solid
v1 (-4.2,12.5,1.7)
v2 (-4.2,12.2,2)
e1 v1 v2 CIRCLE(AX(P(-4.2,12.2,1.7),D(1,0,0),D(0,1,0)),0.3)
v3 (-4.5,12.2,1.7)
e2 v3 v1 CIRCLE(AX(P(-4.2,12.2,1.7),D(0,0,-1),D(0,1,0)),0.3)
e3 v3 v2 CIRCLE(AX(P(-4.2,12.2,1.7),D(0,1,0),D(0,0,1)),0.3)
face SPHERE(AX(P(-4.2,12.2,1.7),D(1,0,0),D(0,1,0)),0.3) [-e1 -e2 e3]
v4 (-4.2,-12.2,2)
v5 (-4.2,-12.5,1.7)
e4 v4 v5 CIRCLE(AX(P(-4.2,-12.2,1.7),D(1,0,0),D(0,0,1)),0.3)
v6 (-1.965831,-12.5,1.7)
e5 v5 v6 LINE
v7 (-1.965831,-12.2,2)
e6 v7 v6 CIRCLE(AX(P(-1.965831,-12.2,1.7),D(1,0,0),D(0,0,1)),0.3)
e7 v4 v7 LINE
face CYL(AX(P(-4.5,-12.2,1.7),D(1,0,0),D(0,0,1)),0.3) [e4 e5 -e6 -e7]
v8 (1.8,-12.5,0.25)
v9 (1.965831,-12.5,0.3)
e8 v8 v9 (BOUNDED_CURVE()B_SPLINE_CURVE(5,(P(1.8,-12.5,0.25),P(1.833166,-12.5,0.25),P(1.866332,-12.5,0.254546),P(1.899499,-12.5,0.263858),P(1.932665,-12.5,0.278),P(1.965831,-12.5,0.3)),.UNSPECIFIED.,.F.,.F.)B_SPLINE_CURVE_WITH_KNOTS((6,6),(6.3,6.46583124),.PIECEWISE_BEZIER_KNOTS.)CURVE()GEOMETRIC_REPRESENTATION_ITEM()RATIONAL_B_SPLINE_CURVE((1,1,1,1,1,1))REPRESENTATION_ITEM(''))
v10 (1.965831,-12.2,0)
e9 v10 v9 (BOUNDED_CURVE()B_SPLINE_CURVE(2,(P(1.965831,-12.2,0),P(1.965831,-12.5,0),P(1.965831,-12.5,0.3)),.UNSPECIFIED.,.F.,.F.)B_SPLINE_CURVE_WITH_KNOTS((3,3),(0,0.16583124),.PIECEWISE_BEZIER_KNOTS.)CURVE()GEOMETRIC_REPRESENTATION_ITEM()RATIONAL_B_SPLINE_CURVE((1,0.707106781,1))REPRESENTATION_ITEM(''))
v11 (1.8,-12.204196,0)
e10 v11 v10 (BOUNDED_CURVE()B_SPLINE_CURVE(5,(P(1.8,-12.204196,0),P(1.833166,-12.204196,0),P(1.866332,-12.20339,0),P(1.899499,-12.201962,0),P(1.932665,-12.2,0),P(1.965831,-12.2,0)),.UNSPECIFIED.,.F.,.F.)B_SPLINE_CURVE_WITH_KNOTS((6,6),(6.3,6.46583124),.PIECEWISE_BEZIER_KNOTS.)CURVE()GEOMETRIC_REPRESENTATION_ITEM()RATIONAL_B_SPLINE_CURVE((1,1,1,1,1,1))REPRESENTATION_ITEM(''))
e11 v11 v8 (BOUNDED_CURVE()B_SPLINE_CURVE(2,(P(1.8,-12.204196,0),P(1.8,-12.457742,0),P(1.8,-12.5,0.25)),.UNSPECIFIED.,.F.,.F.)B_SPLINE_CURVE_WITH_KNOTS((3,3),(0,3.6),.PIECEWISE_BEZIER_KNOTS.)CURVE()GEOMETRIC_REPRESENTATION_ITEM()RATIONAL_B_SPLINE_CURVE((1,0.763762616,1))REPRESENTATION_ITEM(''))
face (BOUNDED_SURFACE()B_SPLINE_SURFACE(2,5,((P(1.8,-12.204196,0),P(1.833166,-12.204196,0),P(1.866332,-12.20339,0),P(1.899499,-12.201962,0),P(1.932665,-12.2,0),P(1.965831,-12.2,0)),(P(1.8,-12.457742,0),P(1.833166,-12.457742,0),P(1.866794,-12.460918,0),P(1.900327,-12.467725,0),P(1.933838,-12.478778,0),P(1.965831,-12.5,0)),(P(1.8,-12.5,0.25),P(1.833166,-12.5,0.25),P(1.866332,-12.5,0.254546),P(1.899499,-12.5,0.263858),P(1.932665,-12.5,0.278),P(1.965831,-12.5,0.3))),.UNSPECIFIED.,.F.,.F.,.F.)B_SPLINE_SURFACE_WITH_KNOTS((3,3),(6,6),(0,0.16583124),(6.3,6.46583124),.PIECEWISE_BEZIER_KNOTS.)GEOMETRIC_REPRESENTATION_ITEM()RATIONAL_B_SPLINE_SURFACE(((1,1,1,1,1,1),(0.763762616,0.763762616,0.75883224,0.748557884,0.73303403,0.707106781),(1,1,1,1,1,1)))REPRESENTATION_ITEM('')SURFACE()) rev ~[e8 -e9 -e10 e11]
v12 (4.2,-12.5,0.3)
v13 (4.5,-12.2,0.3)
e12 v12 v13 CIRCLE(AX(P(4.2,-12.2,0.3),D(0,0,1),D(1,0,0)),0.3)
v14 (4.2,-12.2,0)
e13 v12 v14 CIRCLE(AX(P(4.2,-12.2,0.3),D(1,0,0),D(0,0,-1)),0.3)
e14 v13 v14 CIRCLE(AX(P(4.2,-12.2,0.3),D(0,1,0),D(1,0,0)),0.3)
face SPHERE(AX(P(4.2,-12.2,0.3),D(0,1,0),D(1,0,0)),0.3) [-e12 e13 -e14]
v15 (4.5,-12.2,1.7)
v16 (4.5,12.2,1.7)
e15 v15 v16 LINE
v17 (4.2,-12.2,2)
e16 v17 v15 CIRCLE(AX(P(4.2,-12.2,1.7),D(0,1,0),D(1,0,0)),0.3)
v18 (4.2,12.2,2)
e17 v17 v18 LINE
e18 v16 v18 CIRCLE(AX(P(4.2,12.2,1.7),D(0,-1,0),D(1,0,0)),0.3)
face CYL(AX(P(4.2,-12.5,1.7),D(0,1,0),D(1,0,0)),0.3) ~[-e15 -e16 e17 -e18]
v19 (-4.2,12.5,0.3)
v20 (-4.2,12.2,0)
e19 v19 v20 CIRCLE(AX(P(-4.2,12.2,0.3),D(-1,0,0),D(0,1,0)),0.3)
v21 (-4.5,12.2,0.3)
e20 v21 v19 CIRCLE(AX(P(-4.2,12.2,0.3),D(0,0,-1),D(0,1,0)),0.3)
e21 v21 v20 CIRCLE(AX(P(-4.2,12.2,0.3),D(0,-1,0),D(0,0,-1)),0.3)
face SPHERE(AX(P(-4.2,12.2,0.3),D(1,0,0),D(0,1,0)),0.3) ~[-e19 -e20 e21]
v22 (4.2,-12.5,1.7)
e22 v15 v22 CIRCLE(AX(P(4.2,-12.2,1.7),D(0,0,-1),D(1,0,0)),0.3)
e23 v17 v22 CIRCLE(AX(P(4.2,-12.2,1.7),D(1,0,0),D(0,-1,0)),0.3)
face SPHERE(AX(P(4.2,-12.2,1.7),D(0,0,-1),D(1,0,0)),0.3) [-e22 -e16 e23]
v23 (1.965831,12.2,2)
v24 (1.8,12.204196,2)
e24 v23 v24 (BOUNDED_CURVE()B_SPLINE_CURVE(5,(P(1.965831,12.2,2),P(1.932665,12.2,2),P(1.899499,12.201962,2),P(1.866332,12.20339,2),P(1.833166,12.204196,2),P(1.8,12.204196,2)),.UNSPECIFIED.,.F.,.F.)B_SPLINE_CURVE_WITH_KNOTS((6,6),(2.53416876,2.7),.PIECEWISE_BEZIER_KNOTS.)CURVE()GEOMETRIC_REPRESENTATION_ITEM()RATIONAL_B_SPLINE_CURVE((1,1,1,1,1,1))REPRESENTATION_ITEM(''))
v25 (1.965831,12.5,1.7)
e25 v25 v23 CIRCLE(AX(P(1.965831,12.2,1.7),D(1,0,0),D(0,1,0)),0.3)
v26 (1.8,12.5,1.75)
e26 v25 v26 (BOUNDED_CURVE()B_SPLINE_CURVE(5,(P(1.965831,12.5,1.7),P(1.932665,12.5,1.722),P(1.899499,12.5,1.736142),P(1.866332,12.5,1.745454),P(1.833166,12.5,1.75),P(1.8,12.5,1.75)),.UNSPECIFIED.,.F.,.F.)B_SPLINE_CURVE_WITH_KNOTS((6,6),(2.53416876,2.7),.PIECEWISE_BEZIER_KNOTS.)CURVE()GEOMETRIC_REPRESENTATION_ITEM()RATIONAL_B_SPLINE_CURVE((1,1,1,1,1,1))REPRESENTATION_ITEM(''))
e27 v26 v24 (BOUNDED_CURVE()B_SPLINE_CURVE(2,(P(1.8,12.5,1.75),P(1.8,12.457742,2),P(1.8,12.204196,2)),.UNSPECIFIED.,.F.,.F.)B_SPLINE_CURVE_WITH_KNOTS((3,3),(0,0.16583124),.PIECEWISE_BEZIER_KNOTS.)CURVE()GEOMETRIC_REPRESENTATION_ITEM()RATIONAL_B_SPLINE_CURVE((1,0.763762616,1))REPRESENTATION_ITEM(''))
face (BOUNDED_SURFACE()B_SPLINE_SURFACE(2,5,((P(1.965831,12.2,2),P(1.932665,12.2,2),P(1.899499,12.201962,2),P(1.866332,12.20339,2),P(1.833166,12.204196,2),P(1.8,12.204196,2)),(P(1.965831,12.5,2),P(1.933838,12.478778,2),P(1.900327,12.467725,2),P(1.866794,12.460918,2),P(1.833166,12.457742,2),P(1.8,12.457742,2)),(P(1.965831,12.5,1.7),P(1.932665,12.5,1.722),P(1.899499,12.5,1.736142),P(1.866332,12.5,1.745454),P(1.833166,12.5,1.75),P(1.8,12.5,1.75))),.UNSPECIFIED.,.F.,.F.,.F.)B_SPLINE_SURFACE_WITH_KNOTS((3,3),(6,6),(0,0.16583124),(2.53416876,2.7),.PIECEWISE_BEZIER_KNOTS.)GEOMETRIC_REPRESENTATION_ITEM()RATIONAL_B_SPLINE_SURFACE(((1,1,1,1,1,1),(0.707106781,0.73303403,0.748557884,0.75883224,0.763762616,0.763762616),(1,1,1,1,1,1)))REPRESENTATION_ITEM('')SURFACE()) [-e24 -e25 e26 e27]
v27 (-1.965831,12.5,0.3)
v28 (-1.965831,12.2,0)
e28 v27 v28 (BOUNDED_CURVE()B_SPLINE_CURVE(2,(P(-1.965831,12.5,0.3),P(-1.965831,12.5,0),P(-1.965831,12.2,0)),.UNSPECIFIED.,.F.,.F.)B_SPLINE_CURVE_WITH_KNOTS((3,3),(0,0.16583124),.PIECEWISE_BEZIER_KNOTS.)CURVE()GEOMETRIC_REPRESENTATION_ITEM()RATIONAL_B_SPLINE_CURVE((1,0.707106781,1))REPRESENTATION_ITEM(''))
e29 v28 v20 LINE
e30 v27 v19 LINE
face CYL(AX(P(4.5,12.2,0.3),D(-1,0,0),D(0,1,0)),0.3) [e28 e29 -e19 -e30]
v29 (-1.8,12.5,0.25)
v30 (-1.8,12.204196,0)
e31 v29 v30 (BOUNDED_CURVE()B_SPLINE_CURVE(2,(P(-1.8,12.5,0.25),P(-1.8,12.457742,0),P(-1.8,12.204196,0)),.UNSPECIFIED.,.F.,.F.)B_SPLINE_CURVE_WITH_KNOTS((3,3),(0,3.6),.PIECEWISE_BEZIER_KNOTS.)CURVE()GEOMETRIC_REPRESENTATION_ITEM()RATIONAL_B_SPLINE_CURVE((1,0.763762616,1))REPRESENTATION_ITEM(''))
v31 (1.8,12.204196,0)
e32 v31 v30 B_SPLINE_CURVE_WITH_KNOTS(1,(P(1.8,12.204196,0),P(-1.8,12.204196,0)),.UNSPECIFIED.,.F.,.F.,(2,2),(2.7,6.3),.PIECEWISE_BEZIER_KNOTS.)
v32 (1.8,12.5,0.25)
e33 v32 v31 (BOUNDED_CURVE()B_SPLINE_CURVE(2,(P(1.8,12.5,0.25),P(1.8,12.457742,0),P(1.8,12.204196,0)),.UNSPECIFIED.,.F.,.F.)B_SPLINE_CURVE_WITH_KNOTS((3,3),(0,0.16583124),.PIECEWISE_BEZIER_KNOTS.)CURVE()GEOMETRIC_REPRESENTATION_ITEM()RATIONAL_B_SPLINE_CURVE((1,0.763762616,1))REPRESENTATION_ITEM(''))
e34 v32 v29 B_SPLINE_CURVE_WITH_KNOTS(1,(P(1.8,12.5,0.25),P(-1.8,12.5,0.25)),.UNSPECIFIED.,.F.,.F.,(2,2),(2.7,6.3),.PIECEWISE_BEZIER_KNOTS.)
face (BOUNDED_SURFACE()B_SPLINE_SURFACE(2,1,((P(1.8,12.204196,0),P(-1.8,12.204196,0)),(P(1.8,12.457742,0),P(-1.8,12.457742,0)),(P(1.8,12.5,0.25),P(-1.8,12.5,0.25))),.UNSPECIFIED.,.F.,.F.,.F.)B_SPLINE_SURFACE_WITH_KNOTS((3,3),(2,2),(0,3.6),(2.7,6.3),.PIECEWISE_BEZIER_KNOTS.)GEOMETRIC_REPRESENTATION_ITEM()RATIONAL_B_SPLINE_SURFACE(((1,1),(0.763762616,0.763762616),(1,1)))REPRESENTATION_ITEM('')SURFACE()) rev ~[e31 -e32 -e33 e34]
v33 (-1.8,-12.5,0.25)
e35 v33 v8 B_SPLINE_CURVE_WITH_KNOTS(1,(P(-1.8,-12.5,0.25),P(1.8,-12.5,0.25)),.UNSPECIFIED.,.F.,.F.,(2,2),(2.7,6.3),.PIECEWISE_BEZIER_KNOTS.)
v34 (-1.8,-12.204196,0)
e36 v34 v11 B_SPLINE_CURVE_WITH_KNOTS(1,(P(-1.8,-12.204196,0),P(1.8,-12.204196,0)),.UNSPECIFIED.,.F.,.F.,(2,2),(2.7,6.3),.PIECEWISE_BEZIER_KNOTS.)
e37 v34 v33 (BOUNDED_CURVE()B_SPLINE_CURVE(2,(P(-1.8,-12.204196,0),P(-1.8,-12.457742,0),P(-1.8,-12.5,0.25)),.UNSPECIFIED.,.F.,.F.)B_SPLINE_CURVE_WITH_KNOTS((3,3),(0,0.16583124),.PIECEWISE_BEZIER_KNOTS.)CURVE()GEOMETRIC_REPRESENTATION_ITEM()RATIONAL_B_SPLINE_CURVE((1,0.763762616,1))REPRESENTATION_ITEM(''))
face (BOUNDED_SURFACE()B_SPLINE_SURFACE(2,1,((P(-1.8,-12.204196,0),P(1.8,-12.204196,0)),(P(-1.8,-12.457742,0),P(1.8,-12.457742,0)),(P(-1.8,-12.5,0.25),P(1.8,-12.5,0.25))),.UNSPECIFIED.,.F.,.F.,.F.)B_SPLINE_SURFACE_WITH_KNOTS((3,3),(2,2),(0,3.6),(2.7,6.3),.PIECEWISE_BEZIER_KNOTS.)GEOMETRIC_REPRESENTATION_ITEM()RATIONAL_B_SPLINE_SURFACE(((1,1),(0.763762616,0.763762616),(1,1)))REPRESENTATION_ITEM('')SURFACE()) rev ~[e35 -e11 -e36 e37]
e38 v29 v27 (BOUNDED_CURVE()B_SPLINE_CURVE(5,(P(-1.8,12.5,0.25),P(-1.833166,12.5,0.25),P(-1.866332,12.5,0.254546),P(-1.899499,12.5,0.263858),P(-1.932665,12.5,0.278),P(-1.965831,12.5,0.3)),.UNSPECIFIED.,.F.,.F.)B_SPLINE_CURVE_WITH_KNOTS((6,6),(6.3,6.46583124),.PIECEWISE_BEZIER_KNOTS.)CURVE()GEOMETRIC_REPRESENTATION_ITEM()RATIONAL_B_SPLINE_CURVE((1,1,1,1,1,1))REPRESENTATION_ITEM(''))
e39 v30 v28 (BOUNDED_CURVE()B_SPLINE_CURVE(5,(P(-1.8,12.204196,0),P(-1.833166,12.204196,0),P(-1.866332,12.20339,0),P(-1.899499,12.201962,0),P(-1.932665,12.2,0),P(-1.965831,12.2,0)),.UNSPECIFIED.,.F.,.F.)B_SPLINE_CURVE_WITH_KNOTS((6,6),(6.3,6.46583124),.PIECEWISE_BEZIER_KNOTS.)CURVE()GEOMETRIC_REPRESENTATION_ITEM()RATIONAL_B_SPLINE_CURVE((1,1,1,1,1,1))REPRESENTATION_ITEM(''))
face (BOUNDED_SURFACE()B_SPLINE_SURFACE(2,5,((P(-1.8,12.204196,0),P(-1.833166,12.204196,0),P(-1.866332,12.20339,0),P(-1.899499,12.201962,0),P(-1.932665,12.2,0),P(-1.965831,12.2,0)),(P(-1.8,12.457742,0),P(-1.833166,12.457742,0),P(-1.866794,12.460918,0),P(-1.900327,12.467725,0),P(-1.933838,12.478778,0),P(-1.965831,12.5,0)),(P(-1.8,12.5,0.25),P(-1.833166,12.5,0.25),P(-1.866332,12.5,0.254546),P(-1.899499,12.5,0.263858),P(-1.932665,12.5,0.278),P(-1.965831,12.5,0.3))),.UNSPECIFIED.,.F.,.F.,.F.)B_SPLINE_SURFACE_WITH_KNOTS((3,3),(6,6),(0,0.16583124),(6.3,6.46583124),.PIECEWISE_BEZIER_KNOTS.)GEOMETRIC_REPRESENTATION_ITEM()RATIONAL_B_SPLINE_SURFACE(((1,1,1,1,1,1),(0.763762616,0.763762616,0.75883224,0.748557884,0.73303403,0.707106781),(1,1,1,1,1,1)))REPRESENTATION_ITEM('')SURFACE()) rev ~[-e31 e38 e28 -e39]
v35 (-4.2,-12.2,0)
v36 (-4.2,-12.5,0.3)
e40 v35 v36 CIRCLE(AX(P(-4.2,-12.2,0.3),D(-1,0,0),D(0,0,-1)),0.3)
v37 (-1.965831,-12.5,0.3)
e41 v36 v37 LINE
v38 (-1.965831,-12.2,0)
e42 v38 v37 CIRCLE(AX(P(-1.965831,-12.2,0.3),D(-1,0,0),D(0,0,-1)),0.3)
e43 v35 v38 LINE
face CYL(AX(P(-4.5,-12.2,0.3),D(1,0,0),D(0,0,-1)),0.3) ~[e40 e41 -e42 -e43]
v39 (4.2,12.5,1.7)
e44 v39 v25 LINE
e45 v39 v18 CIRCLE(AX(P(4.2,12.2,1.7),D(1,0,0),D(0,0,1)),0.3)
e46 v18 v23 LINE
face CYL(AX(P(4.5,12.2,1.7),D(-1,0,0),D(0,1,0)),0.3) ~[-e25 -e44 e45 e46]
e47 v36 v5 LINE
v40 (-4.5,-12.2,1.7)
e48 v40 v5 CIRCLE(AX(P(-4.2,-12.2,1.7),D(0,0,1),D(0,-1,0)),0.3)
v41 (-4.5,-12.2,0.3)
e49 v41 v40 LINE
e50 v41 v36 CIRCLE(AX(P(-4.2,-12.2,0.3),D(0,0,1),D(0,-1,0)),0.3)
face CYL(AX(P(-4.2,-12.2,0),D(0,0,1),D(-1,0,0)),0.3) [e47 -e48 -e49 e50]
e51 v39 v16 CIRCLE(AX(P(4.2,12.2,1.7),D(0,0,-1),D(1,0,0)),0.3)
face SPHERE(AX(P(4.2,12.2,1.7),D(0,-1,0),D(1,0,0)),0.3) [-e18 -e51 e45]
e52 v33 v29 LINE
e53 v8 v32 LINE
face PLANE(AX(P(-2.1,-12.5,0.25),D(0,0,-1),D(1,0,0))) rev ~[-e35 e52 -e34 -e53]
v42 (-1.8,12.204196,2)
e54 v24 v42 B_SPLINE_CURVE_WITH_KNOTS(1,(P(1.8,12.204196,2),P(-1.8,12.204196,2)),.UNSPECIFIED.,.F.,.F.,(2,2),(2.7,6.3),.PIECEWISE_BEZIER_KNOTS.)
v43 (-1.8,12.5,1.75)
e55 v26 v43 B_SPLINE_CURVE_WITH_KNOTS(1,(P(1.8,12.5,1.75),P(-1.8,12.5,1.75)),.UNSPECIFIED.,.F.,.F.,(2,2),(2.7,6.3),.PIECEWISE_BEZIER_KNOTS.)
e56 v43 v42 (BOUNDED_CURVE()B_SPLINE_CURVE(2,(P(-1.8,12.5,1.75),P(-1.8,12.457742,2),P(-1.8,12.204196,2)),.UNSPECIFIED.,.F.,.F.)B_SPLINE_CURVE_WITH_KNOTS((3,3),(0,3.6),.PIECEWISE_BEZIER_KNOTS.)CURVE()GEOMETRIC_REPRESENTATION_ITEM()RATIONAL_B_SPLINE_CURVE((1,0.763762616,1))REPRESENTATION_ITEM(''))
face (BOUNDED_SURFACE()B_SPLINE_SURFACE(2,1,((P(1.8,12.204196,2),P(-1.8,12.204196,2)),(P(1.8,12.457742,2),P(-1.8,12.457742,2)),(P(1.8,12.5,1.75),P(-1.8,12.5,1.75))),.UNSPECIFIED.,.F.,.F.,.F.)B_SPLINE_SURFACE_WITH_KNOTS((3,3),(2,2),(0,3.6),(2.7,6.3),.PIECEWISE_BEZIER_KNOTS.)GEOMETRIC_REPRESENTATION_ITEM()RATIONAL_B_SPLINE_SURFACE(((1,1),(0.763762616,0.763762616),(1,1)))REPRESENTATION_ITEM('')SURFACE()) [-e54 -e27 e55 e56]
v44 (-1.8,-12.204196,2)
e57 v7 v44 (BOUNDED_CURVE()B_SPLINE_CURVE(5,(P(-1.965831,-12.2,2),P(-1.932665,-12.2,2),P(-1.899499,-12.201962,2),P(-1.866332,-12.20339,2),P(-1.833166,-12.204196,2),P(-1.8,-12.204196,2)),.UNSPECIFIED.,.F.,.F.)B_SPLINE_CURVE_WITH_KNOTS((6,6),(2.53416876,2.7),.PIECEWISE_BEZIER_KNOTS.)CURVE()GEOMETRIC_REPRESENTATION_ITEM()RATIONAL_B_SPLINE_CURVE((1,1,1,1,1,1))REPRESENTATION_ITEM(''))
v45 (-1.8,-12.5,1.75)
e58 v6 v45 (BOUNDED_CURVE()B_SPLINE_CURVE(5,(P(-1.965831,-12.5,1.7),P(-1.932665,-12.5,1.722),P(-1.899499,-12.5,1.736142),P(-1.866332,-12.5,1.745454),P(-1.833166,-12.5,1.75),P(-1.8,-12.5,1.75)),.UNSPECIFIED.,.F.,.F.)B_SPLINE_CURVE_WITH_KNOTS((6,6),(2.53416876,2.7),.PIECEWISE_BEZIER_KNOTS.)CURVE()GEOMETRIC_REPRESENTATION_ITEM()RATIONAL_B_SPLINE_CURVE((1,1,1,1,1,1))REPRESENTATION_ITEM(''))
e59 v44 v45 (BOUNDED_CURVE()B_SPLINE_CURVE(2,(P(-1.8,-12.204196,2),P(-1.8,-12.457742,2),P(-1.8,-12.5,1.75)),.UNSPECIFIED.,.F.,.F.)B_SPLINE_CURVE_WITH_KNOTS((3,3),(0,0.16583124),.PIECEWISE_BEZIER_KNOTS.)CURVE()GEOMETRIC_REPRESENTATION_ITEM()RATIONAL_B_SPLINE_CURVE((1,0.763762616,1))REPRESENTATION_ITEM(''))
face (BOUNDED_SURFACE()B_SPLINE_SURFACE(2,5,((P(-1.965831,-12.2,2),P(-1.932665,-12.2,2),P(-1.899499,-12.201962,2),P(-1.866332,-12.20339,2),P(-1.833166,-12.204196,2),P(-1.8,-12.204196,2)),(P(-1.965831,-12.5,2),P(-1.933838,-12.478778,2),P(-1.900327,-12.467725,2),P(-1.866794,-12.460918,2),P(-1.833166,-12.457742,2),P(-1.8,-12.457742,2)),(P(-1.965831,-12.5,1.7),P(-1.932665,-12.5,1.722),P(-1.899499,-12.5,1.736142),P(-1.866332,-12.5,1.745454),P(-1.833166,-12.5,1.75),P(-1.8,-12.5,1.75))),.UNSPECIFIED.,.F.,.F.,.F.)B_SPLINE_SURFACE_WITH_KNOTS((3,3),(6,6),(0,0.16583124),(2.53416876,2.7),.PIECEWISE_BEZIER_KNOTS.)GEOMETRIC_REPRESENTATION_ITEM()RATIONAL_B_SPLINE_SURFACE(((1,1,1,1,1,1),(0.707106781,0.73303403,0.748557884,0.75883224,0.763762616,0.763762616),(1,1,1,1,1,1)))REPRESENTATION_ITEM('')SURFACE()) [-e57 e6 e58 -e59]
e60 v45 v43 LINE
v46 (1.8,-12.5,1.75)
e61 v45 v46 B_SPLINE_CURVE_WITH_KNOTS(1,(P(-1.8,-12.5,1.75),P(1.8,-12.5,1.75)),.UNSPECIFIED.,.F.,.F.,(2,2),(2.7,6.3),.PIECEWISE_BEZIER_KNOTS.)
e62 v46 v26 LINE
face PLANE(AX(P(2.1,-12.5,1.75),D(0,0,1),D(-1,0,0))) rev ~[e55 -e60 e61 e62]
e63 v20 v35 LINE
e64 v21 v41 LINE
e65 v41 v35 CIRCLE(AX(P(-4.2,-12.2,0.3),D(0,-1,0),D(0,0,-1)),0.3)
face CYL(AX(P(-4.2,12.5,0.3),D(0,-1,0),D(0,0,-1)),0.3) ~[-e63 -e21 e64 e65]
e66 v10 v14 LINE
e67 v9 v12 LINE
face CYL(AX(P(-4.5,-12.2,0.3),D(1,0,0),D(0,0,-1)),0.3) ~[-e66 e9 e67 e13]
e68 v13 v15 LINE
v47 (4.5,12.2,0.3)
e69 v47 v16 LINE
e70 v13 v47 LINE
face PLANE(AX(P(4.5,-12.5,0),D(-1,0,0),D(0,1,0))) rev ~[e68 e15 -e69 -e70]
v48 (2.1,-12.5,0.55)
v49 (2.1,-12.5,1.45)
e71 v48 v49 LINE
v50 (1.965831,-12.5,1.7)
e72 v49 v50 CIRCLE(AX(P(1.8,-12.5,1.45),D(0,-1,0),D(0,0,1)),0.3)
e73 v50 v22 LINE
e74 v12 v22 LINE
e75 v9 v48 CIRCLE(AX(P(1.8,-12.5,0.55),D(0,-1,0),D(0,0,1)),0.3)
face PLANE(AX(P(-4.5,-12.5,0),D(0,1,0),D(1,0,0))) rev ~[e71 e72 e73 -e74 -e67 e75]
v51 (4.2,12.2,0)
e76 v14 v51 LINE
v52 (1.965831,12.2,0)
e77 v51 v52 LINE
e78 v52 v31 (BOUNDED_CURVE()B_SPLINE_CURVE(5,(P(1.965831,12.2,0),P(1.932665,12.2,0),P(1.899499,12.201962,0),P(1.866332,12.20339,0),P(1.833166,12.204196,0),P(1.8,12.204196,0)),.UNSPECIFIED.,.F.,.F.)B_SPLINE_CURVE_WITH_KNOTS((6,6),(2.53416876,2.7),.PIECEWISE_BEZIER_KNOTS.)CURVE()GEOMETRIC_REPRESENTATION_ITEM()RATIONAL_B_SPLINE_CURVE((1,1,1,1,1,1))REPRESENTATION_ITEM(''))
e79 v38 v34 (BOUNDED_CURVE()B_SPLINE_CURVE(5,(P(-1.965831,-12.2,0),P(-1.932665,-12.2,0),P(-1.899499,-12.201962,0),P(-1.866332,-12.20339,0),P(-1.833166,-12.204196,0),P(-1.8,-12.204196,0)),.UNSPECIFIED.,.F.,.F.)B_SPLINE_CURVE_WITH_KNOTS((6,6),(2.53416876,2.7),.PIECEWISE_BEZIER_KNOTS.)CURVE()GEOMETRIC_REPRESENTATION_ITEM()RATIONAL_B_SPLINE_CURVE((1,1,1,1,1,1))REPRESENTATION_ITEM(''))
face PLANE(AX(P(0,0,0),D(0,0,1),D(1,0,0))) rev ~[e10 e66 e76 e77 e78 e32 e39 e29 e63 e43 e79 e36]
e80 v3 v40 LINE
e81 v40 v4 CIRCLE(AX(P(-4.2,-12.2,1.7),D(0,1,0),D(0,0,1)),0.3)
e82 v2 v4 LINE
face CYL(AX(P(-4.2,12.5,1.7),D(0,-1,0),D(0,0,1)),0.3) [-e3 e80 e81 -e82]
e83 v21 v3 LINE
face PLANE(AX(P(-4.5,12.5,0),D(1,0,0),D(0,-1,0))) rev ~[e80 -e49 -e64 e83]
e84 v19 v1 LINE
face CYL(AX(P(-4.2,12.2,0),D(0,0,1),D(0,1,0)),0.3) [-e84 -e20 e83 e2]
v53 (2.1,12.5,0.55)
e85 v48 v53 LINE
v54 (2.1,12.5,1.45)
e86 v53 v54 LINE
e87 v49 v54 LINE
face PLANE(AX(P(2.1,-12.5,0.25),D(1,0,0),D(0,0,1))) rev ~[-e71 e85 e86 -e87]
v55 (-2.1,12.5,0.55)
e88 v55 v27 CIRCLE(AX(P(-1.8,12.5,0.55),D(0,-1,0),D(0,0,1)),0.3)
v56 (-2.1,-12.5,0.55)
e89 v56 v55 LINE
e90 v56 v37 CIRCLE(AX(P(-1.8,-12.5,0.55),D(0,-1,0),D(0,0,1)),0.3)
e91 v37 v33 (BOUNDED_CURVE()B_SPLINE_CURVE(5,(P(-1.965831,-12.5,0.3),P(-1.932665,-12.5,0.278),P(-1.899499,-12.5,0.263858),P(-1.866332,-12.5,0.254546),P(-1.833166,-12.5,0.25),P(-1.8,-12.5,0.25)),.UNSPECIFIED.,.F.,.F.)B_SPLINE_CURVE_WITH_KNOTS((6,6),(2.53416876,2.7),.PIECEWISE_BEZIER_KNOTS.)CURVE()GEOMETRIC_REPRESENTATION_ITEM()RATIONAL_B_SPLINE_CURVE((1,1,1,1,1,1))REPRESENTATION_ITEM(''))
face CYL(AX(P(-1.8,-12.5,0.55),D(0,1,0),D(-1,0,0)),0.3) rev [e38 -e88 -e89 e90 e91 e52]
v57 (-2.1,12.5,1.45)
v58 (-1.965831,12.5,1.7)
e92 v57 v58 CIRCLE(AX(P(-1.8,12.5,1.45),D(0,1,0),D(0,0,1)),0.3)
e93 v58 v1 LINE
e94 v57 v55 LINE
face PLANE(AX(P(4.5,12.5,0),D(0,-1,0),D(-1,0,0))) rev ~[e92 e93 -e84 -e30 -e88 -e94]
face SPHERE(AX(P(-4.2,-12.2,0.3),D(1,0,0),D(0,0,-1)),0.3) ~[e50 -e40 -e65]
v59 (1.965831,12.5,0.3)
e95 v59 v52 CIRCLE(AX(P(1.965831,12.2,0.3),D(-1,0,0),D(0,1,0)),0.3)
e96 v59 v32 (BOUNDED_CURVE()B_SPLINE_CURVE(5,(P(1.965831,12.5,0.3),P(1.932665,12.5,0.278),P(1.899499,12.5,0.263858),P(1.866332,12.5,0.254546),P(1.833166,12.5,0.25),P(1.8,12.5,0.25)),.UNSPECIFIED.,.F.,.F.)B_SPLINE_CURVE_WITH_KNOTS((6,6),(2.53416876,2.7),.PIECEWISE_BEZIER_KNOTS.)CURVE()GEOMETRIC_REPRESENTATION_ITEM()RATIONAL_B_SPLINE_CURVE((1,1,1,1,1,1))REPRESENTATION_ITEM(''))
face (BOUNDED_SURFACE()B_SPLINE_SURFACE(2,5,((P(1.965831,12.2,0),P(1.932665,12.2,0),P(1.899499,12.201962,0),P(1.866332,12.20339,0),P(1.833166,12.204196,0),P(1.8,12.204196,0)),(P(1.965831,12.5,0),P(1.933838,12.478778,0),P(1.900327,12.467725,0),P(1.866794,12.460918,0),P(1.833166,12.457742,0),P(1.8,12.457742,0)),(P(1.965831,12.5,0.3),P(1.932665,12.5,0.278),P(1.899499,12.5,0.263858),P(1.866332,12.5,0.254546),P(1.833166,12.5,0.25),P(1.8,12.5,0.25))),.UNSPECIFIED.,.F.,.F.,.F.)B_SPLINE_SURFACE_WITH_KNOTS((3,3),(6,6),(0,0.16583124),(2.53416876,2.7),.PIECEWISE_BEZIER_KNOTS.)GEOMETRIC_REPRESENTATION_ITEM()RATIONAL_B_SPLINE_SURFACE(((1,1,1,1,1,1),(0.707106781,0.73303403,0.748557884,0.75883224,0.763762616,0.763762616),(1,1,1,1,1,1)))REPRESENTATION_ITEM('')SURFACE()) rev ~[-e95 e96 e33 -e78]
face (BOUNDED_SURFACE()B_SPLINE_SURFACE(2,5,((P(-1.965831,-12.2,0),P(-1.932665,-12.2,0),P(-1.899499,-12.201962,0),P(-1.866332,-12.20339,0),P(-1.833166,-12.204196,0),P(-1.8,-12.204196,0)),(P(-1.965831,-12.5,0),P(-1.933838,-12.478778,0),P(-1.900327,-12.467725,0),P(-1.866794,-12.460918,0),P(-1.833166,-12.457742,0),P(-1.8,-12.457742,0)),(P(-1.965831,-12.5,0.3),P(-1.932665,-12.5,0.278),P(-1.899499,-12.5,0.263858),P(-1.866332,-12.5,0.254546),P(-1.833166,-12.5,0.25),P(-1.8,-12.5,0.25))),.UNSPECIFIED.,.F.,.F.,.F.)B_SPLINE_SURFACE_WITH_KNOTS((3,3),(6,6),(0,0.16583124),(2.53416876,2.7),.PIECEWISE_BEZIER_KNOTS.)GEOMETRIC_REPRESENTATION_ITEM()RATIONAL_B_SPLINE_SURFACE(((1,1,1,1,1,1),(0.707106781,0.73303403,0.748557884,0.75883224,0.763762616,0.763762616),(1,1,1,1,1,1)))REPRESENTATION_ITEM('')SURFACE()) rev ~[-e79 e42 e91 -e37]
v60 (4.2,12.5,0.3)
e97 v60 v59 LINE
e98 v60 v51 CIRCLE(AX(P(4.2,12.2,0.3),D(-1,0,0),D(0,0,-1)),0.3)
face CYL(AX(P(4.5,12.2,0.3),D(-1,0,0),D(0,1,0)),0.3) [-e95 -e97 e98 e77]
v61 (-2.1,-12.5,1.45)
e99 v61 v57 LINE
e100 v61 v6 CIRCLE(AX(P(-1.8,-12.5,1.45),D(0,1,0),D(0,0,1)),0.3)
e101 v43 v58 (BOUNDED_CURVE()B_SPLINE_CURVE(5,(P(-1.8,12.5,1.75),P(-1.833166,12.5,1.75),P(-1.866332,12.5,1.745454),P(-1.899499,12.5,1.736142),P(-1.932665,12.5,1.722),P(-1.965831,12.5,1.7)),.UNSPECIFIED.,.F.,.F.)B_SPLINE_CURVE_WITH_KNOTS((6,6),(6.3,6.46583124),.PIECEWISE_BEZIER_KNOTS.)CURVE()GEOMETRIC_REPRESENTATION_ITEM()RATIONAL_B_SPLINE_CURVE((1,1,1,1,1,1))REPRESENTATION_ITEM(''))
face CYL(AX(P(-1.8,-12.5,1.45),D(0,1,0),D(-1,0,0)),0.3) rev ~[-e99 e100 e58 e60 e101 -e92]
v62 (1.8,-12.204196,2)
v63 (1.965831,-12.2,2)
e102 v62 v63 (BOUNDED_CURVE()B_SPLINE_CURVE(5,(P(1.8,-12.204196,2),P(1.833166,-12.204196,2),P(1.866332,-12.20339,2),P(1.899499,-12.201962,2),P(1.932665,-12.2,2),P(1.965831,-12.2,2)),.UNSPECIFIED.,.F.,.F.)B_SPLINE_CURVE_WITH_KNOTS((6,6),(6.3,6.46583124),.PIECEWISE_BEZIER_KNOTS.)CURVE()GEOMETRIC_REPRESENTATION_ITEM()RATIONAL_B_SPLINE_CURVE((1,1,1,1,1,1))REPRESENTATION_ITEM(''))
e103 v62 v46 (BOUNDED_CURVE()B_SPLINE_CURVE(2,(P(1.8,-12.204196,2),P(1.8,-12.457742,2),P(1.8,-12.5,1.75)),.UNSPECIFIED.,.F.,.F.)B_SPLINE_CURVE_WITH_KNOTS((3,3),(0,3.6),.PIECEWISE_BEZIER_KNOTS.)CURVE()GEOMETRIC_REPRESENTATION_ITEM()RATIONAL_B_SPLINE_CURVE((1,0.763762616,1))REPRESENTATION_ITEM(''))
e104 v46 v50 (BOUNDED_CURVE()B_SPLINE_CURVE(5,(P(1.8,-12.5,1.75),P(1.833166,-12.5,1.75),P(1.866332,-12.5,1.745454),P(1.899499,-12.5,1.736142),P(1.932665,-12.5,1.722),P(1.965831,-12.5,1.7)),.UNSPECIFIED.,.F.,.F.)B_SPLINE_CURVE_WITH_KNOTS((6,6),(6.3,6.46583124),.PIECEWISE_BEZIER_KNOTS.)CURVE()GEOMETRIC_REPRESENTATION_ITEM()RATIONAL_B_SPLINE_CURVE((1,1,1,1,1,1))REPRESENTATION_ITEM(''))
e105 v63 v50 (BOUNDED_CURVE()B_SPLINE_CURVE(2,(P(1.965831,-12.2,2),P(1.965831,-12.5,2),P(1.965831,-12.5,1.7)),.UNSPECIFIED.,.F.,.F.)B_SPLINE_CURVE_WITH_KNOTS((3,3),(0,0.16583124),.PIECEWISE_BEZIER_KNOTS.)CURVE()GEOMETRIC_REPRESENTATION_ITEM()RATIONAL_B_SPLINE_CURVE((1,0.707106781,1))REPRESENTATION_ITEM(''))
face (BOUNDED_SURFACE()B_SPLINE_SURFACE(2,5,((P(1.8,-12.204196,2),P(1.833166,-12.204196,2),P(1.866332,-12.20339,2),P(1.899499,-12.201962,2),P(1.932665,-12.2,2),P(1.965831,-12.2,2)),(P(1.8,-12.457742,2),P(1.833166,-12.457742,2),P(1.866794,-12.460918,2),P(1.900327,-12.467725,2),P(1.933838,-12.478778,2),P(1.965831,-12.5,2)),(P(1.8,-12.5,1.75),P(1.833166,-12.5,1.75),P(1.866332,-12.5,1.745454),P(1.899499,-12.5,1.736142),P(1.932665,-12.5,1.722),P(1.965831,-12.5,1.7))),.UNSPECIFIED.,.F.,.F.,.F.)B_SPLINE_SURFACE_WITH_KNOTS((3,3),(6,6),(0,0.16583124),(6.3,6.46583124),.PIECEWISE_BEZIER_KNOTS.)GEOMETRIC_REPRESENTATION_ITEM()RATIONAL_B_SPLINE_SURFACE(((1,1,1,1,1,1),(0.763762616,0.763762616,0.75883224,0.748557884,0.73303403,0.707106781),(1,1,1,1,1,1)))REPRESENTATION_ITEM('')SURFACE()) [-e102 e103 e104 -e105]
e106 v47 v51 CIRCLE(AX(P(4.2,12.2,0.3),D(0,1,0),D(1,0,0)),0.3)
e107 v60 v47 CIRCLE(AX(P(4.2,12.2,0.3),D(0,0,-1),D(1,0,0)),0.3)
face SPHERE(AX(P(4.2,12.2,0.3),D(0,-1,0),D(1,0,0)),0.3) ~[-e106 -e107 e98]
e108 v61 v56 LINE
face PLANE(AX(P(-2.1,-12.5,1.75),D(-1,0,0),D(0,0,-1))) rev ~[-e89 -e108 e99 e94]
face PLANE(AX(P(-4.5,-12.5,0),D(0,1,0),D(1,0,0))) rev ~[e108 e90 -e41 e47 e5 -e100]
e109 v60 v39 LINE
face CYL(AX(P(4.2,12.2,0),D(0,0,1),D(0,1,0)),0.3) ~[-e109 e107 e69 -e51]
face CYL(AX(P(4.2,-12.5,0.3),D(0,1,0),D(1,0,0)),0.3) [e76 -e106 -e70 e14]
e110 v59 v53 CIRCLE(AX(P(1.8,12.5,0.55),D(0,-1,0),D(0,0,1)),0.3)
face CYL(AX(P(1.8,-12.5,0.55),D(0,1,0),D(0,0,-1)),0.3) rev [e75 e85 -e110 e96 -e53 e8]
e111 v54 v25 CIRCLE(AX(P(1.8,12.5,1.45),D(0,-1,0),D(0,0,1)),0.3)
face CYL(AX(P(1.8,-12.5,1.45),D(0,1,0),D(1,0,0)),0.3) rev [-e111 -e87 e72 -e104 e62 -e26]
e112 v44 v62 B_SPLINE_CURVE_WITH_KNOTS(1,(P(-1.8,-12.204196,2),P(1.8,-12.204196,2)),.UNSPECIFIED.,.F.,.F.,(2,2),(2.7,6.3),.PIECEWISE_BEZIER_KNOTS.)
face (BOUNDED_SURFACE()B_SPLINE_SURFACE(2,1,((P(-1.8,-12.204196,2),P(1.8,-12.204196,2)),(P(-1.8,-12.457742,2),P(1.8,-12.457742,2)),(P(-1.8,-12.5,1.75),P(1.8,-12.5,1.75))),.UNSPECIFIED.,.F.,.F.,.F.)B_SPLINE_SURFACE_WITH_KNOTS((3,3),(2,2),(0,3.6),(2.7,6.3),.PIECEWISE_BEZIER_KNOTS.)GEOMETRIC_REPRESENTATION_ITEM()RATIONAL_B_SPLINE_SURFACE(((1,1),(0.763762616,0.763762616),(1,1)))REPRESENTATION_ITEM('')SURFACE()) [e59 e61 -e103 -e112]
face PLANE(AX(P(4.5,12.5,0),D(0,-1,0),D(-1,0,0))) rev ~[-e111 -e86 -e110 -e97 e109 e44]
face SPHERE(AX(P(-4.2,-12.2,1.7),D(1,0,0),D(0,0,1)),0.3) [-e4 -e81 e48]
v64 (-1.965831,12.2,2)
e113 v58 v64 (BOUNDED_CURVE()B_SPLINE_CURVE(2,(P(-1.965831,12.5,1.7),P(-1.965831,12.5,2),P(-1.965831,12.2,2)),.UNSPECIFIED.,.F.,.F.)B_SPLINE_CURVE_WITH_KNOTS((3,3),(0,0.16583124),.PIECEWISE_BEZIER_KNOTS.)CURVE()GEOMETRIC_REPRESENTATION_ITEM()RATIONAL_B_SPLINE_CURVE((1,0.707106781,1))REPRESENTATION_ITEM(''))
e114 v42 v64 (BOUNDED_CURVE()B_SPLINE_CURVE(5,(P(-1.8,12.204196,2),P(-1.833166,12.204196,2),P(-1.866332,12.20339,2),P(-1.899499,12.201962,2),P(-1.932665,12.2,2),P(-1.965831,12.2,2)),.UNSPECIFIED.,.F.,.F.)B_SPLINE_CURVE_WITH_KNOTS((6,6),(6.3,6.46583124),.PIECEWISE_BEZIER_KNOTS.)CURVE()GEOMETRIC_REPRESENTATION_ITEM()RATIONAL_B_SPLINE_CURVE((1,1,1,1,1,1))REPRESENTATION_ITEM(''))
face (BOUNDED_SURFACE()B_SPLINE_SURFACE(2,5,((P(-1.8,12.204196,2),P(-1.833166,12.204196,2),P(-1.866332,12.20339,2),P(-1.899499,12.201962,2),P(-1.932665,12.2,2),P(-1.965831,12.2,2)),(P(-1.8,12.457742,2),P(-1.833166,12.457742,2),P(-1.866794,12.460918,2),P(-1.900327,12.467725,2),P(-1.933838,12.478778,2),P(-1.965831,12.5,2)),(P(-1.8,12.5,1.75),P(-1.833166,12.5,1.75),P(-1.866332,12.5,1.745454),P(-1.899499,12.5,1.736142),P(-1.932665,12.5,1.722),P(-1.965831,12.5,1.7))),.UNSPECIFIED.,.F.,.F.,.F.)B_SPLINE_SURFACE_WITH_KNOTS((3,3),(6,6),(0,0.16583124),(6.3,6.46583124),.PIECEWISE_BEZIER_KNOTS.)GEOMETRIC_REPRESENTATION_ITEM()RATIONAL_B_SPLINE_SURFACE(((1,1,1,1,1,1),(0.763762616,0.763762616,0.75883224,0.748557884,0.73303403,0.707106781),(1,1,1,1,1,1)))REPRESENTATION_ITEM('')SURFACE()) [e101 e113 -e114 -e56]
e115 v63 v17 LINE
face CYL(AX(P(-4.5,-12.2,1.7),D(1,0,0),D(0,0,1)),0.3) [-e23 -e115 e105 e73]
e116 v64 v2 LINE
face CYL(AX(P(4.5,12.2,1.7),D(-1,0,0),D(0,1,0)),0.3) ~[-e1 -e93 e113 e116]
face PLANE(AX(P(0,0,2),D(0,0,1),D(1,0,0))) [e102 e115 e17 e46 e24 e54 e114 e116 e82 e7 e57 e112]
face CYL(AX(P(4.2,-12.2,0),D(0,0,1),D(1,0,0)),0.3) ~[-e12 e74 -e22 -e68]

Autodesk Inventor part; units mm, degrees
ref_plane "YZ Plane" through (0, 0, 0) normal (1, 0, 0) x (0, 1, 0)
ref_plane "XZ Plane" through (0, 0, 0) normal (0, 1, 0) x (-1, 0, 0)
ref_plane "XY Plane" through (0, 0, 0) normal (0, 0, 1) x (1, 0, 0)
sketch "Sketch1" plane through (0, 0, 0) normal (0, 0, 1) x (1, 0, 0)
  line L0 (-4.5, -12.5) -> (4.5, -12.5)
  line L1 (4.5, -12.5) -> (4.5, 12.5)
  line L2 (4.5, 12.5) -> (-4.5, 12.5)
  line L3 (-4.5, 12.5) -> (-4.5, -12.5)
  line L4 (-4.5, -12.5) -> (4.5, 12.5) construction
  line L5 (4.5, -12.5) -> (-4.5, 12.5) construction
  point P0 (0, 0)
  dimension "d0" = 9
  dimension "d1" = 25
extrude "Extrusion1" add sketch "Sketch1" along normal blind 2
sketch "Sketch2" plane through (-4.5, -12.5, 0) normal (0, -1, 0) x (1, 0, 0)
  line L0 (4.5, 0) -> (4.5, 2) construction
  line L1 (9, 2) -> (0, 2) construction
  line L2 (0, 0) -> (0, 2) construction
  line L3 (0, 1) -> (9, 1) construction
  line L4 (2.4, 0.25) -> (6.6, 0.25)
  line L5 (6.6, 0.25) -> (6.6, 1.75)
  line L6 (6.6, 1.75) -> (2.4, 1.75)
  line L7 (2.4, 1.75) -> (2.4, 0.25)
  line L8 (2.4, 0.25) -> (6.6, 1.75) construction
  line L9 (6.6, 0.25) -> (2.4, 1.75) construction
  point P0 (4.5, 1)
  dimension "d4" = 4.2
  dimension "d5" = 1.5
extrude "Extrusion2" cut sketch "Sketch2" against normal blind 254
fillet "Fillet1" radius 0.3 4 edges at (-2.1, 0, 0.25) (2.1, 0, 0.25) (-2.1, 0, 1.75) (2.1, 0, 1.75)
fillet "Fillet2" radius 0.3 12 edges at (4.5, 0, 0) (4.5, -12.5, 1) (4.5, 0, 2) (0, -12.5, 0) (0, -12.5, 2) (4.5, 12.5, 1) (0, 12.5, 0) (0, 12.5, 2) (-4.5, 12.5, 1) (-4.5, 0, 0) (-4.5, 0, 2) (-4.5, -12.5, 1)
properties part number "OTOSGuard"
